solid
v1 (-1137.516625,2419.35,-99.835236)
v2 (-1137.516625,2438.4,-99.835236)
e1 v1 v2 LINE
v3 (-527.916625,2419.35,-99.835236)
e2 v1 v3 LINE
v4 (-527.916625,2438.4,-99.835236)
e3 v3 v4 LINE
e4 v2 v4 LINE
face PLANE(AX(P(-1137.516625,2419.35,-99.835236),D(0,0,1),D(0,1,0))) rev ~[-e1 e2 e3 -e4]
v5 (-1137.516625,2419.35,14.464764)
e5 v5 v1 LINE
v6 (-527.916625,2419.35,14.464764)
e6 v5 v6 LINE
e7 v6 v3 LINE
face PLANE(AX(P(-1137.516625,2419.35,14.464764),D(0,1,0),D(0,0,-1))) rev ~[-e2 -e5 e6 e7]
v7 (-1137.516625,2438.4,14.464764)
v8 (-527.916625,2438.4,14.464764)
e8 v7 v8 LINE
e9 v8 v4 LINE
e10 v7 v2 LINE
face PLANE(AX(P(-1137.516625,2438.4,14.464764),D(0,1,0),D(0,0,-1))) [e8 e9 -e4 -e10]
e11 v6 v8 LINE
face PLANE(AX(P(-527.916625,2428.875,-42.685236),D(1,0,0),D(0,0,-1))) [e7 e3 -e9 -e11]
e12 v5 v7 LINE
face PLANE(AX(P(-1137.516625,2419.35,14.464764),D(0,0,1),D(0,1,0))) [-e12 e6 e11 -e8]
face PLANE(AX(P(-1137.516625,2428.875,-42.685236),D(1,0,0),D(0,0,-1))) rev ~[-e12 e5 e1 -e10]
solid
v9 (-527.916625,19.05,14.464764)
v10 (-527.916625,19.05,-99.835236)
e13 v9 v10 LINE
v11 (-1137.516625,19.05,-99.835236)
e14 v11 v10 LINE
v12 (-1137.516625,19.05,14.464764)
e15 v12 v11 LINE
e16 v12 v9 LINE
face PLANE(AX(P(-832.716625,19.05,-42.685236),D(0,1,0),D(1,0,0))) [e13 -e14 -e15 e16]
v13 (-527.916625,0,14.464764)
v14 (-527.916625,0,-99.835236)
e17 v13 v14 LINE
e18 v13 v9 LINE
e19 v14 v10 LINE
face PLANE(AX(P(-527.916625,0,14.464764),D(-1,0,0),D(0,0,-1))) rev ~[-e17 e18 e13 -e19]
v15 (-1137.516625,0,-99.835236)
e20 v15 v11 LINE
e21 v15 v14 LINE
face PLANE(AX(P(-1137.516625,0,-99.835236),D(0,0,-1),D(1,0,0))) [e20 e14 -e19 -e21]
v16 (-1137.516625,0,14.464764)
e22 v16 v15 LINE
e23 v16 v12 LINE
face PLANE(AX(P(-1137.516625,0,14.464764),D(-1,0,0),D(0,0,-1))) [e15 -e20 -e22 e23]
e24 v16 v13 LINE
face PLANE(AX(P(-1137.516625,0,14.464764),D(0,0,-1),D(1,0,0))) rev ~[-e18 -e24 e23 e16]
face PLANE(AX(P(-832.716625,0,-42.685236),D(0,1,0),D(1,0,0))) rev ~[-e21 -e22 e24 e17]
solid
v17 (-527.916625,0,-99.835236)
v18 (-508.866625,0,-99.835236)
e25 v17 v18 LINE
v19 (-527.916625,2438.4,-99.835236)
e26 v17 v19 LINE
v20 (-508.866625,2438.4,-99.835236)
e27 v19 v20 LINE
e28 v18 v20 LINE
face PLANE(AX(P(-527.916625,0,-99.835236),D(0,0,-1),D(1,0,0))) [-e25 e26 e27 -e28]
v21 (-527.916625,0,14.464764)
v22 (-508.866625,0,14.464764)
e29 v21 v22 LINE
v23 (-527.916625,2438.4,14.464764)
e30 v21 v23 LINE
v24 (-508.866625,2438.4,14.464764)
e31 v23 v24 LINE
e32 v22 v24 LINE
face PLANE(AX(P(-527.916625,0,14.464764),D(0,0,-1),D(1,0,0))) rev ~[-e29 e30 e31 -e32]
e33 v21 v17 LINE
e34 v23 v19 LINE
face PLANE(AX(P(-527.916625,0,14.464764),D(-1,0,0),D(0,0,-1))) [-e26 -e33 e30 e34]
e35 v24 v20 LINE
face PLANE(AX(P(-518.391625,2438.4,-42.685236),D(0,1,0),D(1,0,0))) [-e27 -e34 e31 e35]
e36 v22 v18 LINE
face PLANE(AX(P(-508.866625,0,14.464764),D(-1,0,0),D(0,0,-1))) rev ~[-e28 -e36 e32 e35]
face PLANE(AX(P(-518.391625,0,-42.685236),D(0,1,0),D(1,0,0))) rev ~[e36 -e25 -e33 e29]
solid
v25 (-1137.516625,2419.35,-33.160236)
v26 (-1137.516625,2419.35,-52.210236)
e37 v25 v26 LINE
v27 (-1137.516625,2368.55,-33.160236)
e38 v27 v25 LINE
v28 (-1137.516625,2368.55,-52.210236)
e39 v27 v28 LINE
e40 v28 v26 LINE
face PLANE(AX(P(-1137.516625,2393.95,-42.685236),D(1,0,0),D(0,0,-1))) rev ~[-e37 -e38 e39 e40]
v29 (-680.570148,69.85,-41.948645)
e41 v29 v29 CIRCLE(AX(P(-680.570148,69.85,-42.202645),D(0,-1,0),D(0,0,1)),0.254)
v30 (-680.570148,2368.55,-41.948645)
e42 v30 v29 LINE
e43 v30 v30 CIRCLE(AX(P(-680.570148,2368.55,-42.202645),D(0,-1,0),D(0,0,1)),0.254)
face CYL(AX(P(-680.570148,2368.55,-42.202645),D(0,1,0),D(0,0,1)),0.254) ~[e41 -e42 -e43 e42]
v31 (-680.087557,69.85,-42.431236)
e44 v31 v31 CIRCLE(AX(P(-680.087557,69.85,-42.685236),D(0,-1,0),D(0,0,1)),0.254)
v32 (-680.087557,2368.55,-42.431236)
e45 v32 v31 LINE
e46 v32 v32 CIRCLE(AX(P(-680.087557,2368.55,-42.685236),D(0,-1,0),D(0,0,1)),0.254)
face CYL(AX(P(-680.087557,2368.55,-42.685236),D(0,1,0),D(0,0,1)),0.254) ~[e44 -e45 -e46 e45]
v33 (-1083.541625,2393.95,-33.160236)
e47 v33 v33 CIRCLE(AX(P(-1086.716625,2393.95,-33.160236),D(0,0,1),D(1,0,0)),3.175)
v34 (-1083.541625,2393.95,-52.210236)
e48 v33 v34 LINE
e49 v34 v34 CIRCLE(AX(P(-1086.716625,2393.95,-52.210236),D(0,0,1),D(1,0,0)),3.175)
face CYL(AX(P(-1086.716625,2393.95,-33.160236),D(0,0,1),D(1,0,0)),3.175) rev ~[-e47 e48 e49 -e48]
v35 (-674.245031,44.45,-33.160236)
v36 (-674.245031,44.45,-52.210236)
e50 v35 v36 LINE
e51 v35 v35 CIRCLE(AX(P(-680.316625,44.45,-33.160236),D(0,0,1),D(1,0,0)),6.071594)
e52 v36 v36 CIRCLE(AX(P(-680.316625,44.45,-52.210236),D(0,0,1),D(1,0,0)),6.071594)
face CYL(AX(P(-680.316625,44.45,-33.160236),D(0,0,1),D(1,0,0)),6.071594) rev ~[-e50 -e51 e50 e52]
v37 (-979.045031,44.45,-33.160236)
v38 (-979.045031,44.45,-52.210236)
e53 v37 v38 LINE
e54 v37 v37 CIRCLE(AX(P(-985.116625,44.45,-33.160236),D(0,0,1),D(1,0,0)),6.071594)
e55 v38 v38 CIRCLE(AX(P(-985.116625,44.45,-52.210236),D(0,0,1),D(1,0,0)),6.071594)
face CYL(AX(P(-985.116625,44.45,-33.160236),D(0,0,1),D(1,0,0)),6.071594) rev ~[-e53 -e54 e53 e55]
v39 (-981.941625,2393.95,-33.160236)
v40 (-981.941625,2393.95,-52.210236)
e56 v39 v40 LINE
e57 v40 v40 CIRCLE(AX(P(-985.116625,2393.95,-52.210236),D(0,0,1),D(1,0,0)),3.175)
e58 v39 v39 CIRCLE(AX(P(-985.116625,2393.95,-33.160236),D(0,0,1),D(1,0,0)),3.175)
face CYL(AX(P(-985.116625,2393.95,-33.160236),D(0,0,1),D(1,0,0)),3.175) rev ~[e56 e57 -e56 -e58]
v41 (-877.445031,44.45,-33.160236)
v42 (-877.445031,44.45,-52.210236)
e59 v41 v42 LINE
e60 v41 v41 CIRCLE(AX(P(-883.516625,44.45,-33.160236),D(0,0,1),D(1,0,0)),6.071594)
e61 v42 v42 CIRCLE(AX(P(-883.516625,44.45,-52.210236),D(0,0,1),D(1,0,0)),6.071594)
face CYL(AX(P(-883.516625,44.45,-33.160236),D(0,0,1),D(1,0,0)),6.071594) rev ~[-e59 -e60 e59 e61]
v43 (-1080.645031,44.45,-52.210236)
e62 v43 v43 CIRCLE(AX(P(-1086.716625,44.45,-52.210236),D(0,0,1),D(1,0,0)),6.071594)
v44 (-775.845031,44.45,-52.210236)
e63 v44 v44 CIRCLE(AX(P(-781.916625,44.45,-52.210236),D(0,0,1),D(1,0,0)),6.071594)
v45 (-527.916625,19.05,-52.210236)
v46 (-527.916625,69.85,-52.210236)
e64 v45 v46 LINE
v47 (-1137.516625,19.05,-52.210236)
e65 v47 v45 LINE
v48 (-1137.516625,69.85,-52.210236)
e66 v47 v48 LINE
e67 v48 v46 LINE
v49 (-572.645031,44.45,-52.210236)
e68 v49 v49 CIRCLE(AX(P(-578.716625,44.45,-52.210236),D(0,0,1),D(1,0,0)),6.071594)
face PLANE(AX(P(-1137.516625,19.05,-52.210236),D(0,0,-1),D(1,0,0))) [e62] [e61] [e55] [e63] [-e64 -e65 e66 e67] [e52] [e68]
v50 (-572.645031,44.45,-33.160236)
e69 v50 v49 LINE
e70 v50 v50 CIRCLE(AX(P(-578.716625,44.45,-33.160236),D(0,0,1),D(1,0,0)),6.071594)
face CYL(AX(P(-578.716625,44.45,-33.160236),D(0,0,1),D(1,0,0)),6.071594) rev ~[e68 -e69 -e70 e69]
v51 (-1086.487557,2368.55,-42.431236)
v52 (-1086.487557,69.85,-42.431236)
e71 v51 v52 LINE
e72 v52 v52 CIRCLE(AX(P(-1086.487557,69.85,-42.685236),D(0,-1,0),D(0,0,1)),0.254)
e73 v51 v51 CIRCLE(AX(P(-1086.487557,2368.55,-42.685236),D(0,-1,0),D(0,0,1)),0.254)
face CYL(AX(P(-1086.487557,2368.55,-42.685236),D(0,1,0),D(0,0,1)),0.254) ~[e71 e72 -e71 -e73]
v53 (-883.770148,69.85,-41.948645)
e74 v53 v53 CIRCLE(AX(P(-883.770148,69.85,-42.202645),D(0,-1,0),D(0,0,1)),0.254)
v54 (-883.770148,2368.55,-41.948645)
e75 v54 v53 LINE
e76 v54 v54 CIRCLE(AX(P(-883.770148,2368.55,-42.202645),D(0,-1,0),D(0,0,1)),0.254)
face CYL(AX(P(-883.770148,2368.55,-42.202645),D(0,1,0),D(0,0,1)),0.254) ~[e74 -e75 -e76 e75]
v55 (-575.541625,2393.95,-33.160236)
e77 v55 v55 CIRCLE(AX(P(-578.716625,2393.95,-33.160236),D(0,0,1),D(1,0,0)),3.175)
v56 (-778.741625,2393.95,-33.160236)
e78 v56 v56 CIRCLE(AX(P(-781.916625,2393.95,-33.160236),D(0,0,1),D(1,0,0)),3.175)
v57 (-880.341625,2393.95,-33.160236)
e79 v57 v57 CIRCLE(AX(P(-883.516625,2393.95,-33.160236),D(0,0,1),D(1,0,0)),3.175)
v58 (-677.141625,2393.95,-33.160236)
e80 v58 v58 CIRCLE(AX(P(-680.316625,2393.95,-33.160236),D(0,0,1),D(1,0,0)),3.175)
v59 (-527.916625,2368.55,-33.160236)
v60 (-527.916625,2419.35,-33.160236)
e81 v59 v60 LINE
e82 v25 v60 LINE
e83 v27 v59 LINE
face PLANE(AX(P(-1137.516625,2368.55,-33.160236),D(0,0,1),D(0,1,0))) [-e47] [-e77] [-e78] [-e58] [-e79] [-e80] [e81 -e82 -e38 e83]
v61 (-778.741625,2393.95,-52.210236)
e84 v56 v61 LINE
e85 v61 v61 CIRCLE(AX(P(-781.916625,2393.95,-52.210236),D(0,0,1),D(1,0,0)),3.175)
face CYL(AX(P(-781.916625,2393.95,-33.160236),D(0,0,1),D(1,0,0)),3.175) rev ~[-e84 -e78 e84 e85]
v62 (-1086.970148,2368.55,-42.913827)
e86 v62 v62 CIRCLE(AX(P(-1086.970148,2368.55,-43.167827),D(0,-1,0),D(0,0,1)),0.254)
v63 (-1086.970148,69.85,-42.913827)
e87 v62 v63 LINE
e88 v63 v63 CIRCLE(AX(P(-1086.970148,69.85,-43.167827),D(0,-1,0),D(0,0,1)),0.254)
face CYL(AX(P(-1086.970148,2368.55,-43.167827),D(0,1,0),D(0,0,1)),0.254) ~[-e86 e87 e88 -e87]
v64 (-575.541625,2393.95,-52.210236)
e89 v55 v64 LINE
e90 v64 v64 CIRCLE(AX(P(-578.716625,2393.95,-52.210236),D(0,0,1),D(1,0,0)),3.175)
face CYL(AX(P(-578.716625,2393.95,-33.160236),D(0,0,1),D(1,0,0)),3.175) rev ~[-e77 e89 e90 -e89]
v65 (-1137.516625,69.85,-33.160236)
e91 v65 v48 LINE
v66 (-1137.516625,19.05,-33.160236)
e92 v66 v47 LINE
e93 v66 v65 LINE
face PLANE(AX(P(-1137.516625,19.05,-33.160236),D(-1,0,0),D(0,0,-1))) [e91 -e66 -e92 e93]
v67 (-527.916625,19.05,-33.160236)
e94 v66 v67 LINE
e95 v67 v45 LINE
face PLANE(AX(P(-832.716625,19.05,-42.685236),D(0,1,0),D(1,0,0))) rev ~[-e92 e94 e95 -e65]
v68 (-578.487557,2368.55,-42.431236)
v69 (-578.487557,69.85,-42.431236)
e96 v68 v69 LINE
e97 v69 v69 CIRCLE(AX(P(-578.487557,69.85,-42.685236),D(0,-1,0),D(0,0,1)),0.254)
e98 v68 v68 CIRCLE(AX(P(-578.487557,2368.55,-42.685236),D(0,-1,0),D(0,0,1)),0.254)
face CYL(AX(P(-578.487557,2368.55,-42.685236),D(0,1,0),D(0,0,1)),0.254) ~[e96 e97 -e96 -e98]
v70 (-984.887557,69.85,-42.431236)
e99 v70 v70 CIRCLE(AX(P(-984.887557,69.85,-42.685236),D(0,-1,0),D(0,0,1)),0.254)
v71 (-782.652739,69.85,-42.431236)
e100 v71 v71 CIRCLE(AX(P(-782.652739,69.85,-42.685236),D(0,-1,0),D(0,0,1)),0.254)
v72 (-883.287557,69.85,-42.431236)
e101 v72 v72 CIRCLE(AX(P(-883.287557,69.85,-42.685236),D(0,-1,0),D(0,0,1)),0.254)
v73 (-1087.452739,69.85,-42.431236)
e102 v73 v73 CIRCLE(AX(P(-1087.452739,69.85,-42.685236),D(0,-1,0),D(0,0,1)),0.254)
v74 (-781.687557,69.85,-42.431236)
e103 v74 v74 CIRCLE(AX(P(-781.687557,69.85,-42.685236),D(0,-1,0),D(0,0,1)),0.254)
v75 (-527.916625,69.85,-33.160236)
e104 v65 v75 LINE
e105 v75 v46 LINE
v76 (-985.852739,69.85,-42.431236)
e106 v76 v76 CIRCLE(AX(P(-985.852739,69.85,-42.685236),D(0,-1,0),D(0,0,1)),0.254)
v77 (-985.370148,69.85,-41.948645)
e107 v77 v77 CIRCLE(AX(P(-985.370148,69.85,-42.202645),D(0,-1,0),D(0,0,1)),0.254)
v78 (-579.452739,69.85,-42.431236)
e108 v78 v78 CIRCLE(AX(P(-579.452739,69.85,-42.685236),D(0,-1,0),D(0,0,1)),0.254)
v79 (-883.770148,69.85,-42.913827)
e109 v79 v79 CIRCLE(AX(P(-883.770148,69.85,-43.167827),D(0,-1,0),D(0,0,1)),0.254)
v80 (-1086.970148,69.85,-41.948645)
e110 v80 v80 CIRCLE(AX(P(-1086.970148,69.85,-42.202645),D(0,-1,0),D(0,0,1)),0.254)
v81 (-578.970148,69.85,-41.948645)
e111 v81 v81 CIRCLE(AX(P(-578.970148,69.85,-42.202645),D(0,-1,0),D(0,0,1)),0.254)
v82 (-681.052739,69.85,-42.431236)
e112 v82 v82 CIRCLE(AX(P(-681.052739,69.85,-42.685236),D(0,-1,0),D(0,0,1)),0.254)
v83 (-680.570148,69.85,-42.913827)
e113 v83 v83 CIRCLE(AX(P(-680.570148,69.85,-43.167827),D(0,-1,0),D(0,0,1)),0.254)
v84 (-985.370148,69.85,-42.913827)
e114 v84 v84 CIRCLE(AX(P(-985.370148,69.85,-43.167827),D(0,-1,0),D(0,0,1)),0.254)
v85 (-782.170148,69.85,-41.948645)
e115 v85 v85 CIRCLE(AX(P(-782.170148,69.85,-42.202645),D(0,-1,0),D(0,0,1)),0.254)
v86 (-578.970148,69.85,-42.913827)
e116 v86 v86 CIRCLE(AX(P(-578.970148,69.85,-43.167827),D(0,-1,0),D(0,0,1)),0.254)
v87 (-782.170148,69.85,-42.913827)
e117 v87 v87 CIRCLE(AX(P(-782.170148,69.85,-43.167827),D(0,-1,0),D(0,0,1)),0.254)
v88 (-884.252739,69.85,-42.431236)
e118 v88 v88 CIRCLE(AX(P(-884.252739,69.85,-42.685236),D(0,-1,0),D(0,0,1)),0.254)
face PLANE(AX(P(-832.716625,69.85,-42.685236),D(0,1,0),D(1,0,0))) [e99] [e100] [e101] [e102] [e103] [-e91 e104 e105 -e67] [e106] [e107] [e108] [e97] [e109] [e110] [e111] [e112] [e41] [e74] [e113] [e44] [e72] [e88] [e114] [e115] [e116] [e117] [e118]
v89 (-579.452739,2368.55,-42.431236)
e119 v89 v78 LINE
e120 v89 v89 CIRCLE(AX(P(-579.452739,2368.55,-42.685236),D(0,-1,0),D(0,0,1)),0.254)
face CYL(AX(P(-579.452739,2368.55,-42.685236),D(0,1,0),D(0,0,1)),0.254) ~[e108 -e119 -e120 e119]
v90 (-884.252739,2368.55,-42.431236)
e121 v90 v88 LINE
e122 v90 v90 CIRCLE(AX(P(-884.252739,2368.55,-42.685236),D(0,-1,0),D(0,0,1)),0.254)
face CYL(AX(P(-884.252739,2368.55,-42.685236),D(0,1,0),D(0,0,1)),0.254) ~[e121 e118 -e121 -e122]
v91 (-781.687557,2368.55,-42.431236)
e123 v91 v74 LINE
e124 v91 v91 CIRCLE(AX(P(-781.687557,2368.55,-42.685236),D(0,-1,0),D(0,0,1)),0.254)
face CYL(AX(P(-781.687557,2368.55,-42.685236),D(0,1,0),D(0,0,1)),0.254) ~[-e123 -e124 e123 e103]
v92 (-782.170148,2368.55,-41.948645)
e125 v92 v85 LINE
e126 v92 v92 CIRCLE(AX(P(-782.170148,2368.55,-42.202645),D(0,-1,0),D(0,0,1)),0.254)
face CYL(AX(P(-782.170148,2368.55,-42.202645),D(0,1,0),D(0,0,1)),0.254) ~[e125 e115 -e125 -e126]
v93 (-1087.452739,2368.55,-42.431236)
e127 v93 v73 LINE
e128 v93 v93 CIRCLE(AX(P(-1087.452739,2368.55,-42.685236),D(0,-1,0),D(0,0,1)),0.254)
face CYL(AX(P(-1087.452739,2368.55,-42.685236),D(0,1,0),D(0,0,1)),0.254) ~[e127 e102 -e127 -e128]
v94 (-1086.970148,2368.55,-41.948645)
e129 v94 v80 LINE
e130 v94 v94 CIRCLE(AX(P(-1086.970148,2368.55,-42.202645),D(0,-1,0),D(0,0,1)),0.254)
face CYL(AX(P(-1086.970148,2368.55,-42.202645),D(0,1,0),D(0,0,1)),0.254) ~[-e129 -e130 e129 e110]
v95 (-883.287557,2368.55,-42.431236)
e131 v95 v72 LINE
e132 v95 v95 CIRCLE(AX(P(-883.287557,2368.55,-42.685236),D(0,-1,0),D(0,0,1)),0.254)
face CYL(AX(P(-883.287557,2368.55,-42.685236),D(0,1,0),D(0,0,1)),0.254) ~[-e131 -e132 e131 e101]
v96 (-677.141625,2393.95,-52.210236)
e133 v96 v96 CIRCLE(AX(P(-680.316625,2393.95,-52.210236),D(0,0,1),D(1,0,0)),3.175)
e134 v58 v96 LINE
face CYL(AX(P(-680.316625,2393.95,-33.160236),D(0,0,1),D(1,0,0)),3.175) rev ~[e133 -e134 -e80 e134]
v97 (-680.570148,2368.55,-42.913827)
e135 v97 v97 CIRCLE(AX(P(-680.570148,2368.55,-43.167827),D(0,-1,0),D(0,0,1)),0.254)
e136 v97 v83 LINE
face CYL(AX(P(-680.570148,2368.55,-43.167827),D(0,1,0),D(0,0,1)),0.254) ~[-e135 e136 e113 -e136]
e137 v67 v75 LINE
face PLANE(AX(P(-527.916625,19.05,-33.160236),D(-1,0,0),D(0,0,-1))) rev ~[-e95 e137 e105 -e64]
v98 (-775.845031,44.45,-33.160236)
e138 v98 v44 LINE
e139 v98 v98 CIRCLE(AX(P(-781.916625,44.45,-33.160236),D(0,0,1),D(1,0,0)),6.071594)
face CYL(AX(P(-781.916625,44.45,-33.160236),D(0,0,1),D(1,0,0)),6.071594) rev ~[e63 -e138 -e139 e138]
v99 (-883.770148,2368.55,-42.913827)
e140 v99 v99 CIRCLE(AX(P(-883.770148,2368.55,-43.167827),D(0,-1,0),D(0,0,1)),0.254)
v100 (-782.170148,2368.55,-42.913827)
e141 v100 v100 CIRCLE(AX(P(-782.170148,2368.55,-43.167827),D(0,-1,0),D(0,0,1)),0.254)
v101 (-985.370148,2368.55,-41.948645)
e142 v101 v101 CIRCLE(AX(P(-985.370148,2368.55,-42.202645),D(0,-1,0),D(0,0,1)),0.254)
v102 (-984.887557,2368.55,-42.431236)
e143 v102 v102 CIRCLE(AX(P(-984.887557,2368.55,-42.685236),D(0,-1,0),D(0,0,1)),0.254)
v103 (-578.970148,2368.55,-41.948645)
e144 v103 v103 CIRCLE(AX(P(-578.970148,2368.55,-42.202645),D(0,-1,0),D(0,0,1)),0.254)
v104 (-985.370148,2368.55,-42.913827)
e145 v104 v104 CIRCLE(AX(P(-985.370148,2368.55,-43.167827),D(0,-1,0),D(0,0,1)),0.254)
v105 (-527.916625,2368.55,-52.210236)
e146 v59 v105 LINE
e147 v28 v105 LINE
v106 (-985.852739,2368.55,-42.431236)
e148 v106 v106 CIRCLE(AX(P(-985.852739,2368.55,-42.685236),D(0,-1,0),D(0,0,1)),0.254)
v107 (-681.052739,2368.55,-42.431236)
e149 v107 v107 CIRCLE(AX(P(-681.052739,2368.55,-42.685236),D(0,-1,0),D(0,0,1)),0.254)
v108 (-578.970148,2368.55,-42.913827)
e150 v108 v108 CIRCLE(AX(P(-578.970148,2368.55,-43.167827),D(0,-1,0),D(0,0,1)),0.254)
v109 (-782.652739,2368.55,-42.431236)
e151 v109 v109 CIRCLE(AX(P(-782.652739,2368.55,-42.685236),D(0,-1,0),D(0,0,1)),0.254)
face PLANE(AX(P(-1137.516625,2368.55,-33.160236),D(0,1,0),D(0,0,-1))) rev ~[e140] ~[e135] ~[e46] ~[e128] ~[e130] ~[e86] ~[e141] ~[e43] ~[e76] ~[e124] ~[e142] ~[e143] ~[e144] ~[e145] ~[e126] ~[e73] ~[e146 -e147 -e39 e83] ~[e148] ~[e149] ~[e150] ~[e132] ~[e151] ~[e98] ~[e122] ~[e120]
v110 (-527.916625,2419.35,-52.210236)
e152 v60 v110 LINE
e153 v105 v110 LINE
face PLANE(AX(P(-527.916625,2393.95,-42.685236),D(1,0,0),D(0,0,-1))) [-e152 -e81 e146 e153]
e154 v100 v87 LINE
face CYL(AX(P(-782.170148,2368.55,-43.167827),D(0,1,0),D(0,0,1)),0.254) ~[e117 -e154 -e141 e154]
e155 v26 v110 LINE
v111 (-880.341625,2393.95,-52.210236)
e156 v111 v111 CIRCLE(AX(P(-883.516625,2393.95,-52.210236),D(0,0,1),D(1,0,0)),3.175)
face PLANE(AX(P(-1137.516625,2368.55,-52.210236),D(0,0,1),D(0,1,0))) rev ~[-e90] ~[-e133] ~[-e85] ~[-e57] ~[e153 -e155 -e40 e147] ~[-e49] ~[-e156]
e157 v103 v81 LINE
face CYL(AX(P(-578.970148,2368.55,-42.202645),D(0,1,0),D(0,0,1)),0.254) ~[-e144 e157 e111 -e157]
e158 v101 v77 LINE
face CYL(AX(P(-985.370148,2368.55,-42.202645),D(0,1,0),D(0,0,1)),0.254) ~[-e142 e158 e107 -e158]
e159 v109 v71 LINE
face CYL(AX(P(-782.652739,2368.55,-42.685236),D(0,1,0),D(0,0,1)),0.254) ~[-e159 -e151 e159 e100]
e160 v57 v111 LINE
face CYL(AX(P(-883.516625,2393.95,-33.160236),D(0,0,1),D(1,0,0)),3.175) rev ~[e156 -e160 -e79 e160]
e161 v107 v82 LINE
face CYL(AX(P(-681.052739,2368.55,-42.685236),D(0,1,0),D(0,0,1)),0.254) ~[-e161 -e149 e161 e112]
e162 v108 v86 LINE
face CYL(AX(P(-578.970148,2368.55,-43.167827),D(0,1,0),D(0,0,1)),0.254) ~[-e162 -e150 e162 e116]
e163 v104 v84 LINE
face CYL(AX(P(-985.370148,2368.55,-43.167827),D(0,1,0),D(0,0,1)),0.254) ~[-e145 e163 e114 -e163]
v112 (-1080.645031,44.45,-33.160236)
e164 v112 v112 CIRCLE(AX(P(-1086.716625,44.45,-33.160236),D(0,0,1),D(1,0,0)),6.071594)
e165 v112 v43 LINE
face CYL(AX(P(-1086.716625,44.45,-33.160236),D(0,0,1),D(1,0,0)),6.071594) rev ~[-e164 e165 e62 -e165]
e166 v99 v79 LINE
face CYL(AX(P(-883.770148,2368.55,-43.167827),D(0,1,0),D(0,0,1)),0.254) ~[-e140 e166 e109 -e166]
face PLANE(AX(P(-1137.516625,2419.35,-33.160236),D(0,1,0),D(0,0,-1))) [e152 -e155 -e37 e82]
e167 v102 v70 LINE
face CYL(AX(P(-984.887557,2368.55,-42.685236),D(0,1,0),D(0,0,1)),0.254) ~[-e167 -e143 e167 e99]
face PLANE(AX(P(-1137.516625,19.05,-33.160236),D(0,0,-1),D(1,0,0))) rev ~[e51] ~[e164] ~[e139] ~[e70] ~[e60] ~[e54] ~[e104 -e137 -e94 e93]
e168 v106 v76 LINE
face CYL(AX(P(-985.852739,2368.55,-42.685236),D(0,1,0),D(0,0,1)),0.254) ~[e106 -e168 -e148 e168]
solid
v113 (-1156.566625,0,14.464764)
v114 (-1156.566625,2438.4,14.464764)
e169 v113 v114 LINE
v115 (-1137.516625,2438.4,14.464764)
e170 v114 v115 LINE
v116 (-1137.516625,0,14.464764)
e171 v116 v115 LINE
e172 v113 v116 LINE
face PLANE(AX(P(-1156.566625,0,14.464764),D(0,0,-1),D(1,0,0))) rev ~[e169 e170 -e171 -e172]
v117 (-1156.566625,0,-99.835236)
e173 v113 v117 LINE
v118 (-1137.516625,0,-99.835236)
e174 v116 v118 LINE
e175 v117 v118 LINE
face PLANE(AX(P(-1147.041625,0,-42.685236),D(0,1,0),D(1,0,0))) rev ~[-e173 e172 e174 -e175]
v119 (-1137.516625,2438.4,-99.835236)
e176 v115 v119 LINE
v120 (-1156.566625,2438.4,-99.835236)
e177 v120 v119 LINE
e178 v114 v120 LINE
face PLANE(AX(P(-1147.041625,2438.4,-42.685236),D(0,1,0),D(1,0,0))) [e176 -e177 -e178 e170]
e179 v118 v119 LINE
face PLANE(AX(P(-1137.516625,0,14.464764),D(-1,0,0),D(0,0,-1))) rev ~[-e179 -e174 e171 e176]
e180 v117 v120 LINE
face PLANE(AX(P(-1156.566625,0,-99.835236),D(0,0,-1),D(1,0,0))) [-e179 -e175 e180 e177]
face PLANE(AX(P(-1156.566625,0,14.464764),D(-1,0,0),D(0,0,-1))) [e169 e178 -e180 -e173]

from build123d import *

# Parameters (mm, degrees)
SKETCH1_W             = 609.6
SKETCH1_H             = 114.3
BOSS_EXTRUDE1_DEPTH   = 19.05
SKETCH2_W             = 19.05
SKETCH2_H             = 114.3
BOSS_EXTRUDE2_DEPTH   = 2438.4
BOSS_EXTRUDE2_2_DEPTH = 2438.4
SKETCH3_W             = 114.3
SKETCH3_H             = 19.05
BOSS_EXTRUDE3_DEPTH   = 609.6
SKETCH4_W             = 609.6
SKETCH4_H             = 19.05
BOSS_EXTRUDE4_DEPTH   = 50.8
SKETCH5_W             = 19.05
SKETCH5_H             = 50.8
BOSS_EXTRUDE5_DEPTH   = 609.6
SKETCH7_R             = 3.175
SKETCH7_R_2           = 6.071594162
CUT_EXTRUDE1_DEPTH    = 50.8
SKETCH8_R             = 0.254
BOSS_EXTRUDE6_DEPTH   = 2298.7


with BuildPart() as part:
    # Sketch1 → Boss-Extrude1 (new body)
    with BuildSketch(Plane(origin=(0, 0, 0), x_dir=(1, 0, 0), z_dir=(0, 1, 0))):
        with Locations((-832.71662531, 42.685235732)):
            Rectangle(SKETCH1_W, SKETCH1_H)
    extrude(amount=BOSS_EXTRUDE1_DEPTH)


with BuildPart() as body_2:
    # Sketch2 → Boss-Extrude2 (new body)
    with BuildSketch(Plane(origin=(0, 0, 0), x_dir=(1, 0, 0), z_dir=(0, 1, 0))):
        with Locations((-518.39162531, 42.685235732)):
            Rectangle(SKETCH2_W, SKETCH2_H)
    extrude(amount=BOSS_EXTRUDE2_DEPTH)


with BuildPart() as body_3:
    # Sketch2 → Boss-Extrude2 2 (new body)
    with BuildSketch(Plane(origin=(0, 0, 0), x_dir=(1, 0, 0), z_dir=(0, 1, 0))):
        with Locations((-1147.04162531, 42.685235732)):
            Rectangle(SKETCH2_W, SKETCH2_H)
    extrude(amount=BOSS_EXTRUDE2_2_DEPTH)


with BuildPart() as body_4:
    # Sketch3 → Boss-Extrude3 (new body)
    with BuildSketch(Plane(origin=(-1137.51662531, 0, 0), x_dir=(0, 0, -1), z_dir=(1, 0, 0))):
        with Locations((42.685235732, 2428.875)):
            Rectangle(SKETCH3_W, SKETCH3_H)
    extrude(amount=BOSS_EXTRUDE3_DEPTH)


with BuildPart() as body_5:
    # Sketch4 → Boss-Extrude4 (new body)
    with BuildSketch(Plane(origin=(0, 19.05, 0), x_dir=(1, 0, 0), z_dir=(0, 1, 0))):
        with Locations((-832.71662531, 42.685235732)):
            Rectangle(SKETCH4_W, SKETCH4_H)
    extrude(amount=BOSS_EXTRUDE4_DEPTH)


with BuildPart() as body_6:
    # Sketch5 → Boss-Extrude5 (new body)
    with BuildSketch(Plane(origin=(-1137.51662531, 0, 0), x_dir=(0, 0, -1), z_dir=(1, 0, 0))):
        with Locations((42.685235732, 2393.95)):
            Rectangle(SKETCH5_W, SKETCH5_H)
    extrude(amount=BOSS_EXTRUDE5_DEPTH)


with BuildPart() as cut_extrude1_tool:
    # Sketch7 → Cut-Extrude1 (new body)
    with BuildSketch(Plane.XY.offset(-33.160235732)):
        with Locations((-1086.71662531, 2393.95)):
            Circle(SKETCH7_R)
        with Locations((-985.11662531, 2393.95)):
            Circle(SKETCH7_R)
        with Locations((-883.51662531, 2393.95)):
            Circle(SKETCH7_R)
        with Locations((-781.91662531, 2393.95)):
            Circle(SKETCH7_R)
        with Locations((-680.31662531, 2393.95)):
            Circle(SKETCH7_R)
        with Locations((-578.71662531, 2393.95)):
            Circle(SKETCH7_R)
        with Locations((-1086.71662531, 44.45)):
            Circle(SKETCH7_R_2)
        with Locations((-985.11662531, 44.45)):
            Circle(SKETCH7_R_2)
        with Locations((-883.51662531, 44.45)):
            Circle(SKETCH7_R_2)
        with Locations((-781.91662531, 44.45)):
            Circle(SKETCH7_R_2)
        with Locations((-680.31662531, 44.45)):
            Circle(SKETCH7_R_2)
        with Locations((-578.71662531, 44.45)):
            Circle(SKETCH7_R_2)
    extrude(amount=-CUT_EXTRUDE1_DEPTH)


with BuildPart() as body_5_1:
    add(body_5.part)

    # Cut-Extrude1: cut by cut_extrude1_tool
    add(cut_extrude1_tool.part, mode=Mode.SUBTRACT)



with BuildPart() as body_6_1:
    add(body_6.part)

    # Cut-Extrude1: cut by cut_extrude1_tool
    add(cut_extrude1_tool.part, mode=Mode.SUBTRACT)


with BuildPart() as body_5_2:
    add(body_5_1.part)

    add(body_6_1.part)  # Boss-Extrude6 merges body 6
    # Sketch8 → Boss-Extrude6 (add)
    with BuildSketch(Plane.XZ.offset(-2368.55)):
        with Locations(Location((-1086.970147606, -42.202644807, 0), (0, 0, 89.999999999))):  # turned: the seam where the file's is
            Circle(SKETCH8_R)
        with Locations(Location((-1086.487556681, -42.685235732, 0), (0, 0, 90.000000001))):  # turned: the seam where the file's is
            Circle(SKETCH8_R)
        with Locations(Location((-1086.970147606, -43.167826657, 0), (0, 0, 89.999999999))):  # turned: the seam where the file's is
            Circle(SKETCH8_R)
        with Locations(Location((-1087.452738531, -42.685235732, 0), (0, 0, 90.000000001))):  # turned: the seam where the file's is
            Circle(SKETCH8_R)
        with Locations(Location((-985.852738531, -42.685235732, 0), (0, 0, 90))):  # turned: the seam where the file's is
            Circle(SKETCH8_R)
        with Locations(Location((-985.370147606, -43.167826657, 0), (0, 0, 90))):  # turned: the seam where the file's is
            Circle(SKETCH8_R)
        with Locations(Location((-985.370147606, -42.202644807, 0), (0, 0, 90))):  # turned: the seam where the file's is
            Circle(SKETCH8_R)
        with Locations(Location((-984.887556681, -42.685235732, 0), (0, 0, 90))):  # turned: the seam where the file's is
            Circle(SKETCH8_R)
        with Locations(Location((-884.252738531, -42.685235732, 0), (0, 0, 90))):  # turned: the seam where the file's is
            Circle(SKETCH8_R)
        with Locations(Location((-883.770147606, -43.167826657, 0), (0, 0, 90))):  # turned: the seam where the file's is
            Circle(SKETCH8_R)
        with Locations(Location((-883.770147606, -42.202644807, 0), (0, 0, 90))):  # turned: the seam where the file's is
            Circle(SKETCH8_R)
        with Locations(Location((-883.287556681, -42.685235732, 0), (0, 0, 90))):  # turned: the seam where the file's is
            Circle(SKETCH8_R)
        with Locations(Location((-782.652738531, -42.685235732, 0), (0, 0, 90))):  # turned: the seam where the file's is
            Circle(SKETCH8_R)
        with Locations(Location((-782.170147606, -43.167826657, 0), (0, 0, 90))):  # turned: the seam where the file's is
            Circle(SKETCH8_R)
        with Locations(Location((-782.170147606, -42.202644807, 0), (0, 0, 90))):  # turned: the seam where the file's is
            Circle(SKETCH8_R)
        with Locations(Location((-781.687556681, -42.685235732, 0), (0, 0, 90))):  # turned: the seam where the file's is
            Circle(SKETCH8_R)
        with Locations(Location((-681.052738531, -42.685235732, 0), (0, 0, 90))):  # turned: the seam where the file's is
            Circle(SKETCH8_R)
        with Locations(Location((-680.570147606, -43.167826657, 0), (0, 0, 90))):  # turned: the seam where the file's is
            Circle(SKETCH8_R)
        with Locations(Location((-680.570147606, -42.202644807, 0), (0, 0, 90))):  # turned: the seam where the file's is
            Circle(SKETCH8_R)
        with Locations(Location((-680.087556681, -42.685235732, 0), (0, 0, 90))):  # turned: the seam where the file's is
            Circle(SKETCH8_R)
        with Locations(Location((-579.452738531, -42.685235732, 0), (0, 0, 90))):  # turned: the seam where the file's is
            Circle(SKETCH8_R)
        with Locations(Location((-578.970147606, -43.167826657, 0), (0, 0, 90))):  # turned: the seam where the file's is
            Circle(SKETCH8_R)
        with Locations(Location((-578.970147606, -42.202644807, 0), (0, 0, 90))):  # turned: the seam where the file's is
            Circle(SKETCH8_R)
        with Locations(Location((-578.487556681, -42.685235732, 0), (0, 0, 90))):  # turned: the seam where the file's is
            Circle(SKETCH8_R)
    extrude(amount=BOSS_EXTRUDE6_DEPTH)


solid = Compound([part.part, body_2.part, body_3.part, body_4.part, body_5_2.part])
